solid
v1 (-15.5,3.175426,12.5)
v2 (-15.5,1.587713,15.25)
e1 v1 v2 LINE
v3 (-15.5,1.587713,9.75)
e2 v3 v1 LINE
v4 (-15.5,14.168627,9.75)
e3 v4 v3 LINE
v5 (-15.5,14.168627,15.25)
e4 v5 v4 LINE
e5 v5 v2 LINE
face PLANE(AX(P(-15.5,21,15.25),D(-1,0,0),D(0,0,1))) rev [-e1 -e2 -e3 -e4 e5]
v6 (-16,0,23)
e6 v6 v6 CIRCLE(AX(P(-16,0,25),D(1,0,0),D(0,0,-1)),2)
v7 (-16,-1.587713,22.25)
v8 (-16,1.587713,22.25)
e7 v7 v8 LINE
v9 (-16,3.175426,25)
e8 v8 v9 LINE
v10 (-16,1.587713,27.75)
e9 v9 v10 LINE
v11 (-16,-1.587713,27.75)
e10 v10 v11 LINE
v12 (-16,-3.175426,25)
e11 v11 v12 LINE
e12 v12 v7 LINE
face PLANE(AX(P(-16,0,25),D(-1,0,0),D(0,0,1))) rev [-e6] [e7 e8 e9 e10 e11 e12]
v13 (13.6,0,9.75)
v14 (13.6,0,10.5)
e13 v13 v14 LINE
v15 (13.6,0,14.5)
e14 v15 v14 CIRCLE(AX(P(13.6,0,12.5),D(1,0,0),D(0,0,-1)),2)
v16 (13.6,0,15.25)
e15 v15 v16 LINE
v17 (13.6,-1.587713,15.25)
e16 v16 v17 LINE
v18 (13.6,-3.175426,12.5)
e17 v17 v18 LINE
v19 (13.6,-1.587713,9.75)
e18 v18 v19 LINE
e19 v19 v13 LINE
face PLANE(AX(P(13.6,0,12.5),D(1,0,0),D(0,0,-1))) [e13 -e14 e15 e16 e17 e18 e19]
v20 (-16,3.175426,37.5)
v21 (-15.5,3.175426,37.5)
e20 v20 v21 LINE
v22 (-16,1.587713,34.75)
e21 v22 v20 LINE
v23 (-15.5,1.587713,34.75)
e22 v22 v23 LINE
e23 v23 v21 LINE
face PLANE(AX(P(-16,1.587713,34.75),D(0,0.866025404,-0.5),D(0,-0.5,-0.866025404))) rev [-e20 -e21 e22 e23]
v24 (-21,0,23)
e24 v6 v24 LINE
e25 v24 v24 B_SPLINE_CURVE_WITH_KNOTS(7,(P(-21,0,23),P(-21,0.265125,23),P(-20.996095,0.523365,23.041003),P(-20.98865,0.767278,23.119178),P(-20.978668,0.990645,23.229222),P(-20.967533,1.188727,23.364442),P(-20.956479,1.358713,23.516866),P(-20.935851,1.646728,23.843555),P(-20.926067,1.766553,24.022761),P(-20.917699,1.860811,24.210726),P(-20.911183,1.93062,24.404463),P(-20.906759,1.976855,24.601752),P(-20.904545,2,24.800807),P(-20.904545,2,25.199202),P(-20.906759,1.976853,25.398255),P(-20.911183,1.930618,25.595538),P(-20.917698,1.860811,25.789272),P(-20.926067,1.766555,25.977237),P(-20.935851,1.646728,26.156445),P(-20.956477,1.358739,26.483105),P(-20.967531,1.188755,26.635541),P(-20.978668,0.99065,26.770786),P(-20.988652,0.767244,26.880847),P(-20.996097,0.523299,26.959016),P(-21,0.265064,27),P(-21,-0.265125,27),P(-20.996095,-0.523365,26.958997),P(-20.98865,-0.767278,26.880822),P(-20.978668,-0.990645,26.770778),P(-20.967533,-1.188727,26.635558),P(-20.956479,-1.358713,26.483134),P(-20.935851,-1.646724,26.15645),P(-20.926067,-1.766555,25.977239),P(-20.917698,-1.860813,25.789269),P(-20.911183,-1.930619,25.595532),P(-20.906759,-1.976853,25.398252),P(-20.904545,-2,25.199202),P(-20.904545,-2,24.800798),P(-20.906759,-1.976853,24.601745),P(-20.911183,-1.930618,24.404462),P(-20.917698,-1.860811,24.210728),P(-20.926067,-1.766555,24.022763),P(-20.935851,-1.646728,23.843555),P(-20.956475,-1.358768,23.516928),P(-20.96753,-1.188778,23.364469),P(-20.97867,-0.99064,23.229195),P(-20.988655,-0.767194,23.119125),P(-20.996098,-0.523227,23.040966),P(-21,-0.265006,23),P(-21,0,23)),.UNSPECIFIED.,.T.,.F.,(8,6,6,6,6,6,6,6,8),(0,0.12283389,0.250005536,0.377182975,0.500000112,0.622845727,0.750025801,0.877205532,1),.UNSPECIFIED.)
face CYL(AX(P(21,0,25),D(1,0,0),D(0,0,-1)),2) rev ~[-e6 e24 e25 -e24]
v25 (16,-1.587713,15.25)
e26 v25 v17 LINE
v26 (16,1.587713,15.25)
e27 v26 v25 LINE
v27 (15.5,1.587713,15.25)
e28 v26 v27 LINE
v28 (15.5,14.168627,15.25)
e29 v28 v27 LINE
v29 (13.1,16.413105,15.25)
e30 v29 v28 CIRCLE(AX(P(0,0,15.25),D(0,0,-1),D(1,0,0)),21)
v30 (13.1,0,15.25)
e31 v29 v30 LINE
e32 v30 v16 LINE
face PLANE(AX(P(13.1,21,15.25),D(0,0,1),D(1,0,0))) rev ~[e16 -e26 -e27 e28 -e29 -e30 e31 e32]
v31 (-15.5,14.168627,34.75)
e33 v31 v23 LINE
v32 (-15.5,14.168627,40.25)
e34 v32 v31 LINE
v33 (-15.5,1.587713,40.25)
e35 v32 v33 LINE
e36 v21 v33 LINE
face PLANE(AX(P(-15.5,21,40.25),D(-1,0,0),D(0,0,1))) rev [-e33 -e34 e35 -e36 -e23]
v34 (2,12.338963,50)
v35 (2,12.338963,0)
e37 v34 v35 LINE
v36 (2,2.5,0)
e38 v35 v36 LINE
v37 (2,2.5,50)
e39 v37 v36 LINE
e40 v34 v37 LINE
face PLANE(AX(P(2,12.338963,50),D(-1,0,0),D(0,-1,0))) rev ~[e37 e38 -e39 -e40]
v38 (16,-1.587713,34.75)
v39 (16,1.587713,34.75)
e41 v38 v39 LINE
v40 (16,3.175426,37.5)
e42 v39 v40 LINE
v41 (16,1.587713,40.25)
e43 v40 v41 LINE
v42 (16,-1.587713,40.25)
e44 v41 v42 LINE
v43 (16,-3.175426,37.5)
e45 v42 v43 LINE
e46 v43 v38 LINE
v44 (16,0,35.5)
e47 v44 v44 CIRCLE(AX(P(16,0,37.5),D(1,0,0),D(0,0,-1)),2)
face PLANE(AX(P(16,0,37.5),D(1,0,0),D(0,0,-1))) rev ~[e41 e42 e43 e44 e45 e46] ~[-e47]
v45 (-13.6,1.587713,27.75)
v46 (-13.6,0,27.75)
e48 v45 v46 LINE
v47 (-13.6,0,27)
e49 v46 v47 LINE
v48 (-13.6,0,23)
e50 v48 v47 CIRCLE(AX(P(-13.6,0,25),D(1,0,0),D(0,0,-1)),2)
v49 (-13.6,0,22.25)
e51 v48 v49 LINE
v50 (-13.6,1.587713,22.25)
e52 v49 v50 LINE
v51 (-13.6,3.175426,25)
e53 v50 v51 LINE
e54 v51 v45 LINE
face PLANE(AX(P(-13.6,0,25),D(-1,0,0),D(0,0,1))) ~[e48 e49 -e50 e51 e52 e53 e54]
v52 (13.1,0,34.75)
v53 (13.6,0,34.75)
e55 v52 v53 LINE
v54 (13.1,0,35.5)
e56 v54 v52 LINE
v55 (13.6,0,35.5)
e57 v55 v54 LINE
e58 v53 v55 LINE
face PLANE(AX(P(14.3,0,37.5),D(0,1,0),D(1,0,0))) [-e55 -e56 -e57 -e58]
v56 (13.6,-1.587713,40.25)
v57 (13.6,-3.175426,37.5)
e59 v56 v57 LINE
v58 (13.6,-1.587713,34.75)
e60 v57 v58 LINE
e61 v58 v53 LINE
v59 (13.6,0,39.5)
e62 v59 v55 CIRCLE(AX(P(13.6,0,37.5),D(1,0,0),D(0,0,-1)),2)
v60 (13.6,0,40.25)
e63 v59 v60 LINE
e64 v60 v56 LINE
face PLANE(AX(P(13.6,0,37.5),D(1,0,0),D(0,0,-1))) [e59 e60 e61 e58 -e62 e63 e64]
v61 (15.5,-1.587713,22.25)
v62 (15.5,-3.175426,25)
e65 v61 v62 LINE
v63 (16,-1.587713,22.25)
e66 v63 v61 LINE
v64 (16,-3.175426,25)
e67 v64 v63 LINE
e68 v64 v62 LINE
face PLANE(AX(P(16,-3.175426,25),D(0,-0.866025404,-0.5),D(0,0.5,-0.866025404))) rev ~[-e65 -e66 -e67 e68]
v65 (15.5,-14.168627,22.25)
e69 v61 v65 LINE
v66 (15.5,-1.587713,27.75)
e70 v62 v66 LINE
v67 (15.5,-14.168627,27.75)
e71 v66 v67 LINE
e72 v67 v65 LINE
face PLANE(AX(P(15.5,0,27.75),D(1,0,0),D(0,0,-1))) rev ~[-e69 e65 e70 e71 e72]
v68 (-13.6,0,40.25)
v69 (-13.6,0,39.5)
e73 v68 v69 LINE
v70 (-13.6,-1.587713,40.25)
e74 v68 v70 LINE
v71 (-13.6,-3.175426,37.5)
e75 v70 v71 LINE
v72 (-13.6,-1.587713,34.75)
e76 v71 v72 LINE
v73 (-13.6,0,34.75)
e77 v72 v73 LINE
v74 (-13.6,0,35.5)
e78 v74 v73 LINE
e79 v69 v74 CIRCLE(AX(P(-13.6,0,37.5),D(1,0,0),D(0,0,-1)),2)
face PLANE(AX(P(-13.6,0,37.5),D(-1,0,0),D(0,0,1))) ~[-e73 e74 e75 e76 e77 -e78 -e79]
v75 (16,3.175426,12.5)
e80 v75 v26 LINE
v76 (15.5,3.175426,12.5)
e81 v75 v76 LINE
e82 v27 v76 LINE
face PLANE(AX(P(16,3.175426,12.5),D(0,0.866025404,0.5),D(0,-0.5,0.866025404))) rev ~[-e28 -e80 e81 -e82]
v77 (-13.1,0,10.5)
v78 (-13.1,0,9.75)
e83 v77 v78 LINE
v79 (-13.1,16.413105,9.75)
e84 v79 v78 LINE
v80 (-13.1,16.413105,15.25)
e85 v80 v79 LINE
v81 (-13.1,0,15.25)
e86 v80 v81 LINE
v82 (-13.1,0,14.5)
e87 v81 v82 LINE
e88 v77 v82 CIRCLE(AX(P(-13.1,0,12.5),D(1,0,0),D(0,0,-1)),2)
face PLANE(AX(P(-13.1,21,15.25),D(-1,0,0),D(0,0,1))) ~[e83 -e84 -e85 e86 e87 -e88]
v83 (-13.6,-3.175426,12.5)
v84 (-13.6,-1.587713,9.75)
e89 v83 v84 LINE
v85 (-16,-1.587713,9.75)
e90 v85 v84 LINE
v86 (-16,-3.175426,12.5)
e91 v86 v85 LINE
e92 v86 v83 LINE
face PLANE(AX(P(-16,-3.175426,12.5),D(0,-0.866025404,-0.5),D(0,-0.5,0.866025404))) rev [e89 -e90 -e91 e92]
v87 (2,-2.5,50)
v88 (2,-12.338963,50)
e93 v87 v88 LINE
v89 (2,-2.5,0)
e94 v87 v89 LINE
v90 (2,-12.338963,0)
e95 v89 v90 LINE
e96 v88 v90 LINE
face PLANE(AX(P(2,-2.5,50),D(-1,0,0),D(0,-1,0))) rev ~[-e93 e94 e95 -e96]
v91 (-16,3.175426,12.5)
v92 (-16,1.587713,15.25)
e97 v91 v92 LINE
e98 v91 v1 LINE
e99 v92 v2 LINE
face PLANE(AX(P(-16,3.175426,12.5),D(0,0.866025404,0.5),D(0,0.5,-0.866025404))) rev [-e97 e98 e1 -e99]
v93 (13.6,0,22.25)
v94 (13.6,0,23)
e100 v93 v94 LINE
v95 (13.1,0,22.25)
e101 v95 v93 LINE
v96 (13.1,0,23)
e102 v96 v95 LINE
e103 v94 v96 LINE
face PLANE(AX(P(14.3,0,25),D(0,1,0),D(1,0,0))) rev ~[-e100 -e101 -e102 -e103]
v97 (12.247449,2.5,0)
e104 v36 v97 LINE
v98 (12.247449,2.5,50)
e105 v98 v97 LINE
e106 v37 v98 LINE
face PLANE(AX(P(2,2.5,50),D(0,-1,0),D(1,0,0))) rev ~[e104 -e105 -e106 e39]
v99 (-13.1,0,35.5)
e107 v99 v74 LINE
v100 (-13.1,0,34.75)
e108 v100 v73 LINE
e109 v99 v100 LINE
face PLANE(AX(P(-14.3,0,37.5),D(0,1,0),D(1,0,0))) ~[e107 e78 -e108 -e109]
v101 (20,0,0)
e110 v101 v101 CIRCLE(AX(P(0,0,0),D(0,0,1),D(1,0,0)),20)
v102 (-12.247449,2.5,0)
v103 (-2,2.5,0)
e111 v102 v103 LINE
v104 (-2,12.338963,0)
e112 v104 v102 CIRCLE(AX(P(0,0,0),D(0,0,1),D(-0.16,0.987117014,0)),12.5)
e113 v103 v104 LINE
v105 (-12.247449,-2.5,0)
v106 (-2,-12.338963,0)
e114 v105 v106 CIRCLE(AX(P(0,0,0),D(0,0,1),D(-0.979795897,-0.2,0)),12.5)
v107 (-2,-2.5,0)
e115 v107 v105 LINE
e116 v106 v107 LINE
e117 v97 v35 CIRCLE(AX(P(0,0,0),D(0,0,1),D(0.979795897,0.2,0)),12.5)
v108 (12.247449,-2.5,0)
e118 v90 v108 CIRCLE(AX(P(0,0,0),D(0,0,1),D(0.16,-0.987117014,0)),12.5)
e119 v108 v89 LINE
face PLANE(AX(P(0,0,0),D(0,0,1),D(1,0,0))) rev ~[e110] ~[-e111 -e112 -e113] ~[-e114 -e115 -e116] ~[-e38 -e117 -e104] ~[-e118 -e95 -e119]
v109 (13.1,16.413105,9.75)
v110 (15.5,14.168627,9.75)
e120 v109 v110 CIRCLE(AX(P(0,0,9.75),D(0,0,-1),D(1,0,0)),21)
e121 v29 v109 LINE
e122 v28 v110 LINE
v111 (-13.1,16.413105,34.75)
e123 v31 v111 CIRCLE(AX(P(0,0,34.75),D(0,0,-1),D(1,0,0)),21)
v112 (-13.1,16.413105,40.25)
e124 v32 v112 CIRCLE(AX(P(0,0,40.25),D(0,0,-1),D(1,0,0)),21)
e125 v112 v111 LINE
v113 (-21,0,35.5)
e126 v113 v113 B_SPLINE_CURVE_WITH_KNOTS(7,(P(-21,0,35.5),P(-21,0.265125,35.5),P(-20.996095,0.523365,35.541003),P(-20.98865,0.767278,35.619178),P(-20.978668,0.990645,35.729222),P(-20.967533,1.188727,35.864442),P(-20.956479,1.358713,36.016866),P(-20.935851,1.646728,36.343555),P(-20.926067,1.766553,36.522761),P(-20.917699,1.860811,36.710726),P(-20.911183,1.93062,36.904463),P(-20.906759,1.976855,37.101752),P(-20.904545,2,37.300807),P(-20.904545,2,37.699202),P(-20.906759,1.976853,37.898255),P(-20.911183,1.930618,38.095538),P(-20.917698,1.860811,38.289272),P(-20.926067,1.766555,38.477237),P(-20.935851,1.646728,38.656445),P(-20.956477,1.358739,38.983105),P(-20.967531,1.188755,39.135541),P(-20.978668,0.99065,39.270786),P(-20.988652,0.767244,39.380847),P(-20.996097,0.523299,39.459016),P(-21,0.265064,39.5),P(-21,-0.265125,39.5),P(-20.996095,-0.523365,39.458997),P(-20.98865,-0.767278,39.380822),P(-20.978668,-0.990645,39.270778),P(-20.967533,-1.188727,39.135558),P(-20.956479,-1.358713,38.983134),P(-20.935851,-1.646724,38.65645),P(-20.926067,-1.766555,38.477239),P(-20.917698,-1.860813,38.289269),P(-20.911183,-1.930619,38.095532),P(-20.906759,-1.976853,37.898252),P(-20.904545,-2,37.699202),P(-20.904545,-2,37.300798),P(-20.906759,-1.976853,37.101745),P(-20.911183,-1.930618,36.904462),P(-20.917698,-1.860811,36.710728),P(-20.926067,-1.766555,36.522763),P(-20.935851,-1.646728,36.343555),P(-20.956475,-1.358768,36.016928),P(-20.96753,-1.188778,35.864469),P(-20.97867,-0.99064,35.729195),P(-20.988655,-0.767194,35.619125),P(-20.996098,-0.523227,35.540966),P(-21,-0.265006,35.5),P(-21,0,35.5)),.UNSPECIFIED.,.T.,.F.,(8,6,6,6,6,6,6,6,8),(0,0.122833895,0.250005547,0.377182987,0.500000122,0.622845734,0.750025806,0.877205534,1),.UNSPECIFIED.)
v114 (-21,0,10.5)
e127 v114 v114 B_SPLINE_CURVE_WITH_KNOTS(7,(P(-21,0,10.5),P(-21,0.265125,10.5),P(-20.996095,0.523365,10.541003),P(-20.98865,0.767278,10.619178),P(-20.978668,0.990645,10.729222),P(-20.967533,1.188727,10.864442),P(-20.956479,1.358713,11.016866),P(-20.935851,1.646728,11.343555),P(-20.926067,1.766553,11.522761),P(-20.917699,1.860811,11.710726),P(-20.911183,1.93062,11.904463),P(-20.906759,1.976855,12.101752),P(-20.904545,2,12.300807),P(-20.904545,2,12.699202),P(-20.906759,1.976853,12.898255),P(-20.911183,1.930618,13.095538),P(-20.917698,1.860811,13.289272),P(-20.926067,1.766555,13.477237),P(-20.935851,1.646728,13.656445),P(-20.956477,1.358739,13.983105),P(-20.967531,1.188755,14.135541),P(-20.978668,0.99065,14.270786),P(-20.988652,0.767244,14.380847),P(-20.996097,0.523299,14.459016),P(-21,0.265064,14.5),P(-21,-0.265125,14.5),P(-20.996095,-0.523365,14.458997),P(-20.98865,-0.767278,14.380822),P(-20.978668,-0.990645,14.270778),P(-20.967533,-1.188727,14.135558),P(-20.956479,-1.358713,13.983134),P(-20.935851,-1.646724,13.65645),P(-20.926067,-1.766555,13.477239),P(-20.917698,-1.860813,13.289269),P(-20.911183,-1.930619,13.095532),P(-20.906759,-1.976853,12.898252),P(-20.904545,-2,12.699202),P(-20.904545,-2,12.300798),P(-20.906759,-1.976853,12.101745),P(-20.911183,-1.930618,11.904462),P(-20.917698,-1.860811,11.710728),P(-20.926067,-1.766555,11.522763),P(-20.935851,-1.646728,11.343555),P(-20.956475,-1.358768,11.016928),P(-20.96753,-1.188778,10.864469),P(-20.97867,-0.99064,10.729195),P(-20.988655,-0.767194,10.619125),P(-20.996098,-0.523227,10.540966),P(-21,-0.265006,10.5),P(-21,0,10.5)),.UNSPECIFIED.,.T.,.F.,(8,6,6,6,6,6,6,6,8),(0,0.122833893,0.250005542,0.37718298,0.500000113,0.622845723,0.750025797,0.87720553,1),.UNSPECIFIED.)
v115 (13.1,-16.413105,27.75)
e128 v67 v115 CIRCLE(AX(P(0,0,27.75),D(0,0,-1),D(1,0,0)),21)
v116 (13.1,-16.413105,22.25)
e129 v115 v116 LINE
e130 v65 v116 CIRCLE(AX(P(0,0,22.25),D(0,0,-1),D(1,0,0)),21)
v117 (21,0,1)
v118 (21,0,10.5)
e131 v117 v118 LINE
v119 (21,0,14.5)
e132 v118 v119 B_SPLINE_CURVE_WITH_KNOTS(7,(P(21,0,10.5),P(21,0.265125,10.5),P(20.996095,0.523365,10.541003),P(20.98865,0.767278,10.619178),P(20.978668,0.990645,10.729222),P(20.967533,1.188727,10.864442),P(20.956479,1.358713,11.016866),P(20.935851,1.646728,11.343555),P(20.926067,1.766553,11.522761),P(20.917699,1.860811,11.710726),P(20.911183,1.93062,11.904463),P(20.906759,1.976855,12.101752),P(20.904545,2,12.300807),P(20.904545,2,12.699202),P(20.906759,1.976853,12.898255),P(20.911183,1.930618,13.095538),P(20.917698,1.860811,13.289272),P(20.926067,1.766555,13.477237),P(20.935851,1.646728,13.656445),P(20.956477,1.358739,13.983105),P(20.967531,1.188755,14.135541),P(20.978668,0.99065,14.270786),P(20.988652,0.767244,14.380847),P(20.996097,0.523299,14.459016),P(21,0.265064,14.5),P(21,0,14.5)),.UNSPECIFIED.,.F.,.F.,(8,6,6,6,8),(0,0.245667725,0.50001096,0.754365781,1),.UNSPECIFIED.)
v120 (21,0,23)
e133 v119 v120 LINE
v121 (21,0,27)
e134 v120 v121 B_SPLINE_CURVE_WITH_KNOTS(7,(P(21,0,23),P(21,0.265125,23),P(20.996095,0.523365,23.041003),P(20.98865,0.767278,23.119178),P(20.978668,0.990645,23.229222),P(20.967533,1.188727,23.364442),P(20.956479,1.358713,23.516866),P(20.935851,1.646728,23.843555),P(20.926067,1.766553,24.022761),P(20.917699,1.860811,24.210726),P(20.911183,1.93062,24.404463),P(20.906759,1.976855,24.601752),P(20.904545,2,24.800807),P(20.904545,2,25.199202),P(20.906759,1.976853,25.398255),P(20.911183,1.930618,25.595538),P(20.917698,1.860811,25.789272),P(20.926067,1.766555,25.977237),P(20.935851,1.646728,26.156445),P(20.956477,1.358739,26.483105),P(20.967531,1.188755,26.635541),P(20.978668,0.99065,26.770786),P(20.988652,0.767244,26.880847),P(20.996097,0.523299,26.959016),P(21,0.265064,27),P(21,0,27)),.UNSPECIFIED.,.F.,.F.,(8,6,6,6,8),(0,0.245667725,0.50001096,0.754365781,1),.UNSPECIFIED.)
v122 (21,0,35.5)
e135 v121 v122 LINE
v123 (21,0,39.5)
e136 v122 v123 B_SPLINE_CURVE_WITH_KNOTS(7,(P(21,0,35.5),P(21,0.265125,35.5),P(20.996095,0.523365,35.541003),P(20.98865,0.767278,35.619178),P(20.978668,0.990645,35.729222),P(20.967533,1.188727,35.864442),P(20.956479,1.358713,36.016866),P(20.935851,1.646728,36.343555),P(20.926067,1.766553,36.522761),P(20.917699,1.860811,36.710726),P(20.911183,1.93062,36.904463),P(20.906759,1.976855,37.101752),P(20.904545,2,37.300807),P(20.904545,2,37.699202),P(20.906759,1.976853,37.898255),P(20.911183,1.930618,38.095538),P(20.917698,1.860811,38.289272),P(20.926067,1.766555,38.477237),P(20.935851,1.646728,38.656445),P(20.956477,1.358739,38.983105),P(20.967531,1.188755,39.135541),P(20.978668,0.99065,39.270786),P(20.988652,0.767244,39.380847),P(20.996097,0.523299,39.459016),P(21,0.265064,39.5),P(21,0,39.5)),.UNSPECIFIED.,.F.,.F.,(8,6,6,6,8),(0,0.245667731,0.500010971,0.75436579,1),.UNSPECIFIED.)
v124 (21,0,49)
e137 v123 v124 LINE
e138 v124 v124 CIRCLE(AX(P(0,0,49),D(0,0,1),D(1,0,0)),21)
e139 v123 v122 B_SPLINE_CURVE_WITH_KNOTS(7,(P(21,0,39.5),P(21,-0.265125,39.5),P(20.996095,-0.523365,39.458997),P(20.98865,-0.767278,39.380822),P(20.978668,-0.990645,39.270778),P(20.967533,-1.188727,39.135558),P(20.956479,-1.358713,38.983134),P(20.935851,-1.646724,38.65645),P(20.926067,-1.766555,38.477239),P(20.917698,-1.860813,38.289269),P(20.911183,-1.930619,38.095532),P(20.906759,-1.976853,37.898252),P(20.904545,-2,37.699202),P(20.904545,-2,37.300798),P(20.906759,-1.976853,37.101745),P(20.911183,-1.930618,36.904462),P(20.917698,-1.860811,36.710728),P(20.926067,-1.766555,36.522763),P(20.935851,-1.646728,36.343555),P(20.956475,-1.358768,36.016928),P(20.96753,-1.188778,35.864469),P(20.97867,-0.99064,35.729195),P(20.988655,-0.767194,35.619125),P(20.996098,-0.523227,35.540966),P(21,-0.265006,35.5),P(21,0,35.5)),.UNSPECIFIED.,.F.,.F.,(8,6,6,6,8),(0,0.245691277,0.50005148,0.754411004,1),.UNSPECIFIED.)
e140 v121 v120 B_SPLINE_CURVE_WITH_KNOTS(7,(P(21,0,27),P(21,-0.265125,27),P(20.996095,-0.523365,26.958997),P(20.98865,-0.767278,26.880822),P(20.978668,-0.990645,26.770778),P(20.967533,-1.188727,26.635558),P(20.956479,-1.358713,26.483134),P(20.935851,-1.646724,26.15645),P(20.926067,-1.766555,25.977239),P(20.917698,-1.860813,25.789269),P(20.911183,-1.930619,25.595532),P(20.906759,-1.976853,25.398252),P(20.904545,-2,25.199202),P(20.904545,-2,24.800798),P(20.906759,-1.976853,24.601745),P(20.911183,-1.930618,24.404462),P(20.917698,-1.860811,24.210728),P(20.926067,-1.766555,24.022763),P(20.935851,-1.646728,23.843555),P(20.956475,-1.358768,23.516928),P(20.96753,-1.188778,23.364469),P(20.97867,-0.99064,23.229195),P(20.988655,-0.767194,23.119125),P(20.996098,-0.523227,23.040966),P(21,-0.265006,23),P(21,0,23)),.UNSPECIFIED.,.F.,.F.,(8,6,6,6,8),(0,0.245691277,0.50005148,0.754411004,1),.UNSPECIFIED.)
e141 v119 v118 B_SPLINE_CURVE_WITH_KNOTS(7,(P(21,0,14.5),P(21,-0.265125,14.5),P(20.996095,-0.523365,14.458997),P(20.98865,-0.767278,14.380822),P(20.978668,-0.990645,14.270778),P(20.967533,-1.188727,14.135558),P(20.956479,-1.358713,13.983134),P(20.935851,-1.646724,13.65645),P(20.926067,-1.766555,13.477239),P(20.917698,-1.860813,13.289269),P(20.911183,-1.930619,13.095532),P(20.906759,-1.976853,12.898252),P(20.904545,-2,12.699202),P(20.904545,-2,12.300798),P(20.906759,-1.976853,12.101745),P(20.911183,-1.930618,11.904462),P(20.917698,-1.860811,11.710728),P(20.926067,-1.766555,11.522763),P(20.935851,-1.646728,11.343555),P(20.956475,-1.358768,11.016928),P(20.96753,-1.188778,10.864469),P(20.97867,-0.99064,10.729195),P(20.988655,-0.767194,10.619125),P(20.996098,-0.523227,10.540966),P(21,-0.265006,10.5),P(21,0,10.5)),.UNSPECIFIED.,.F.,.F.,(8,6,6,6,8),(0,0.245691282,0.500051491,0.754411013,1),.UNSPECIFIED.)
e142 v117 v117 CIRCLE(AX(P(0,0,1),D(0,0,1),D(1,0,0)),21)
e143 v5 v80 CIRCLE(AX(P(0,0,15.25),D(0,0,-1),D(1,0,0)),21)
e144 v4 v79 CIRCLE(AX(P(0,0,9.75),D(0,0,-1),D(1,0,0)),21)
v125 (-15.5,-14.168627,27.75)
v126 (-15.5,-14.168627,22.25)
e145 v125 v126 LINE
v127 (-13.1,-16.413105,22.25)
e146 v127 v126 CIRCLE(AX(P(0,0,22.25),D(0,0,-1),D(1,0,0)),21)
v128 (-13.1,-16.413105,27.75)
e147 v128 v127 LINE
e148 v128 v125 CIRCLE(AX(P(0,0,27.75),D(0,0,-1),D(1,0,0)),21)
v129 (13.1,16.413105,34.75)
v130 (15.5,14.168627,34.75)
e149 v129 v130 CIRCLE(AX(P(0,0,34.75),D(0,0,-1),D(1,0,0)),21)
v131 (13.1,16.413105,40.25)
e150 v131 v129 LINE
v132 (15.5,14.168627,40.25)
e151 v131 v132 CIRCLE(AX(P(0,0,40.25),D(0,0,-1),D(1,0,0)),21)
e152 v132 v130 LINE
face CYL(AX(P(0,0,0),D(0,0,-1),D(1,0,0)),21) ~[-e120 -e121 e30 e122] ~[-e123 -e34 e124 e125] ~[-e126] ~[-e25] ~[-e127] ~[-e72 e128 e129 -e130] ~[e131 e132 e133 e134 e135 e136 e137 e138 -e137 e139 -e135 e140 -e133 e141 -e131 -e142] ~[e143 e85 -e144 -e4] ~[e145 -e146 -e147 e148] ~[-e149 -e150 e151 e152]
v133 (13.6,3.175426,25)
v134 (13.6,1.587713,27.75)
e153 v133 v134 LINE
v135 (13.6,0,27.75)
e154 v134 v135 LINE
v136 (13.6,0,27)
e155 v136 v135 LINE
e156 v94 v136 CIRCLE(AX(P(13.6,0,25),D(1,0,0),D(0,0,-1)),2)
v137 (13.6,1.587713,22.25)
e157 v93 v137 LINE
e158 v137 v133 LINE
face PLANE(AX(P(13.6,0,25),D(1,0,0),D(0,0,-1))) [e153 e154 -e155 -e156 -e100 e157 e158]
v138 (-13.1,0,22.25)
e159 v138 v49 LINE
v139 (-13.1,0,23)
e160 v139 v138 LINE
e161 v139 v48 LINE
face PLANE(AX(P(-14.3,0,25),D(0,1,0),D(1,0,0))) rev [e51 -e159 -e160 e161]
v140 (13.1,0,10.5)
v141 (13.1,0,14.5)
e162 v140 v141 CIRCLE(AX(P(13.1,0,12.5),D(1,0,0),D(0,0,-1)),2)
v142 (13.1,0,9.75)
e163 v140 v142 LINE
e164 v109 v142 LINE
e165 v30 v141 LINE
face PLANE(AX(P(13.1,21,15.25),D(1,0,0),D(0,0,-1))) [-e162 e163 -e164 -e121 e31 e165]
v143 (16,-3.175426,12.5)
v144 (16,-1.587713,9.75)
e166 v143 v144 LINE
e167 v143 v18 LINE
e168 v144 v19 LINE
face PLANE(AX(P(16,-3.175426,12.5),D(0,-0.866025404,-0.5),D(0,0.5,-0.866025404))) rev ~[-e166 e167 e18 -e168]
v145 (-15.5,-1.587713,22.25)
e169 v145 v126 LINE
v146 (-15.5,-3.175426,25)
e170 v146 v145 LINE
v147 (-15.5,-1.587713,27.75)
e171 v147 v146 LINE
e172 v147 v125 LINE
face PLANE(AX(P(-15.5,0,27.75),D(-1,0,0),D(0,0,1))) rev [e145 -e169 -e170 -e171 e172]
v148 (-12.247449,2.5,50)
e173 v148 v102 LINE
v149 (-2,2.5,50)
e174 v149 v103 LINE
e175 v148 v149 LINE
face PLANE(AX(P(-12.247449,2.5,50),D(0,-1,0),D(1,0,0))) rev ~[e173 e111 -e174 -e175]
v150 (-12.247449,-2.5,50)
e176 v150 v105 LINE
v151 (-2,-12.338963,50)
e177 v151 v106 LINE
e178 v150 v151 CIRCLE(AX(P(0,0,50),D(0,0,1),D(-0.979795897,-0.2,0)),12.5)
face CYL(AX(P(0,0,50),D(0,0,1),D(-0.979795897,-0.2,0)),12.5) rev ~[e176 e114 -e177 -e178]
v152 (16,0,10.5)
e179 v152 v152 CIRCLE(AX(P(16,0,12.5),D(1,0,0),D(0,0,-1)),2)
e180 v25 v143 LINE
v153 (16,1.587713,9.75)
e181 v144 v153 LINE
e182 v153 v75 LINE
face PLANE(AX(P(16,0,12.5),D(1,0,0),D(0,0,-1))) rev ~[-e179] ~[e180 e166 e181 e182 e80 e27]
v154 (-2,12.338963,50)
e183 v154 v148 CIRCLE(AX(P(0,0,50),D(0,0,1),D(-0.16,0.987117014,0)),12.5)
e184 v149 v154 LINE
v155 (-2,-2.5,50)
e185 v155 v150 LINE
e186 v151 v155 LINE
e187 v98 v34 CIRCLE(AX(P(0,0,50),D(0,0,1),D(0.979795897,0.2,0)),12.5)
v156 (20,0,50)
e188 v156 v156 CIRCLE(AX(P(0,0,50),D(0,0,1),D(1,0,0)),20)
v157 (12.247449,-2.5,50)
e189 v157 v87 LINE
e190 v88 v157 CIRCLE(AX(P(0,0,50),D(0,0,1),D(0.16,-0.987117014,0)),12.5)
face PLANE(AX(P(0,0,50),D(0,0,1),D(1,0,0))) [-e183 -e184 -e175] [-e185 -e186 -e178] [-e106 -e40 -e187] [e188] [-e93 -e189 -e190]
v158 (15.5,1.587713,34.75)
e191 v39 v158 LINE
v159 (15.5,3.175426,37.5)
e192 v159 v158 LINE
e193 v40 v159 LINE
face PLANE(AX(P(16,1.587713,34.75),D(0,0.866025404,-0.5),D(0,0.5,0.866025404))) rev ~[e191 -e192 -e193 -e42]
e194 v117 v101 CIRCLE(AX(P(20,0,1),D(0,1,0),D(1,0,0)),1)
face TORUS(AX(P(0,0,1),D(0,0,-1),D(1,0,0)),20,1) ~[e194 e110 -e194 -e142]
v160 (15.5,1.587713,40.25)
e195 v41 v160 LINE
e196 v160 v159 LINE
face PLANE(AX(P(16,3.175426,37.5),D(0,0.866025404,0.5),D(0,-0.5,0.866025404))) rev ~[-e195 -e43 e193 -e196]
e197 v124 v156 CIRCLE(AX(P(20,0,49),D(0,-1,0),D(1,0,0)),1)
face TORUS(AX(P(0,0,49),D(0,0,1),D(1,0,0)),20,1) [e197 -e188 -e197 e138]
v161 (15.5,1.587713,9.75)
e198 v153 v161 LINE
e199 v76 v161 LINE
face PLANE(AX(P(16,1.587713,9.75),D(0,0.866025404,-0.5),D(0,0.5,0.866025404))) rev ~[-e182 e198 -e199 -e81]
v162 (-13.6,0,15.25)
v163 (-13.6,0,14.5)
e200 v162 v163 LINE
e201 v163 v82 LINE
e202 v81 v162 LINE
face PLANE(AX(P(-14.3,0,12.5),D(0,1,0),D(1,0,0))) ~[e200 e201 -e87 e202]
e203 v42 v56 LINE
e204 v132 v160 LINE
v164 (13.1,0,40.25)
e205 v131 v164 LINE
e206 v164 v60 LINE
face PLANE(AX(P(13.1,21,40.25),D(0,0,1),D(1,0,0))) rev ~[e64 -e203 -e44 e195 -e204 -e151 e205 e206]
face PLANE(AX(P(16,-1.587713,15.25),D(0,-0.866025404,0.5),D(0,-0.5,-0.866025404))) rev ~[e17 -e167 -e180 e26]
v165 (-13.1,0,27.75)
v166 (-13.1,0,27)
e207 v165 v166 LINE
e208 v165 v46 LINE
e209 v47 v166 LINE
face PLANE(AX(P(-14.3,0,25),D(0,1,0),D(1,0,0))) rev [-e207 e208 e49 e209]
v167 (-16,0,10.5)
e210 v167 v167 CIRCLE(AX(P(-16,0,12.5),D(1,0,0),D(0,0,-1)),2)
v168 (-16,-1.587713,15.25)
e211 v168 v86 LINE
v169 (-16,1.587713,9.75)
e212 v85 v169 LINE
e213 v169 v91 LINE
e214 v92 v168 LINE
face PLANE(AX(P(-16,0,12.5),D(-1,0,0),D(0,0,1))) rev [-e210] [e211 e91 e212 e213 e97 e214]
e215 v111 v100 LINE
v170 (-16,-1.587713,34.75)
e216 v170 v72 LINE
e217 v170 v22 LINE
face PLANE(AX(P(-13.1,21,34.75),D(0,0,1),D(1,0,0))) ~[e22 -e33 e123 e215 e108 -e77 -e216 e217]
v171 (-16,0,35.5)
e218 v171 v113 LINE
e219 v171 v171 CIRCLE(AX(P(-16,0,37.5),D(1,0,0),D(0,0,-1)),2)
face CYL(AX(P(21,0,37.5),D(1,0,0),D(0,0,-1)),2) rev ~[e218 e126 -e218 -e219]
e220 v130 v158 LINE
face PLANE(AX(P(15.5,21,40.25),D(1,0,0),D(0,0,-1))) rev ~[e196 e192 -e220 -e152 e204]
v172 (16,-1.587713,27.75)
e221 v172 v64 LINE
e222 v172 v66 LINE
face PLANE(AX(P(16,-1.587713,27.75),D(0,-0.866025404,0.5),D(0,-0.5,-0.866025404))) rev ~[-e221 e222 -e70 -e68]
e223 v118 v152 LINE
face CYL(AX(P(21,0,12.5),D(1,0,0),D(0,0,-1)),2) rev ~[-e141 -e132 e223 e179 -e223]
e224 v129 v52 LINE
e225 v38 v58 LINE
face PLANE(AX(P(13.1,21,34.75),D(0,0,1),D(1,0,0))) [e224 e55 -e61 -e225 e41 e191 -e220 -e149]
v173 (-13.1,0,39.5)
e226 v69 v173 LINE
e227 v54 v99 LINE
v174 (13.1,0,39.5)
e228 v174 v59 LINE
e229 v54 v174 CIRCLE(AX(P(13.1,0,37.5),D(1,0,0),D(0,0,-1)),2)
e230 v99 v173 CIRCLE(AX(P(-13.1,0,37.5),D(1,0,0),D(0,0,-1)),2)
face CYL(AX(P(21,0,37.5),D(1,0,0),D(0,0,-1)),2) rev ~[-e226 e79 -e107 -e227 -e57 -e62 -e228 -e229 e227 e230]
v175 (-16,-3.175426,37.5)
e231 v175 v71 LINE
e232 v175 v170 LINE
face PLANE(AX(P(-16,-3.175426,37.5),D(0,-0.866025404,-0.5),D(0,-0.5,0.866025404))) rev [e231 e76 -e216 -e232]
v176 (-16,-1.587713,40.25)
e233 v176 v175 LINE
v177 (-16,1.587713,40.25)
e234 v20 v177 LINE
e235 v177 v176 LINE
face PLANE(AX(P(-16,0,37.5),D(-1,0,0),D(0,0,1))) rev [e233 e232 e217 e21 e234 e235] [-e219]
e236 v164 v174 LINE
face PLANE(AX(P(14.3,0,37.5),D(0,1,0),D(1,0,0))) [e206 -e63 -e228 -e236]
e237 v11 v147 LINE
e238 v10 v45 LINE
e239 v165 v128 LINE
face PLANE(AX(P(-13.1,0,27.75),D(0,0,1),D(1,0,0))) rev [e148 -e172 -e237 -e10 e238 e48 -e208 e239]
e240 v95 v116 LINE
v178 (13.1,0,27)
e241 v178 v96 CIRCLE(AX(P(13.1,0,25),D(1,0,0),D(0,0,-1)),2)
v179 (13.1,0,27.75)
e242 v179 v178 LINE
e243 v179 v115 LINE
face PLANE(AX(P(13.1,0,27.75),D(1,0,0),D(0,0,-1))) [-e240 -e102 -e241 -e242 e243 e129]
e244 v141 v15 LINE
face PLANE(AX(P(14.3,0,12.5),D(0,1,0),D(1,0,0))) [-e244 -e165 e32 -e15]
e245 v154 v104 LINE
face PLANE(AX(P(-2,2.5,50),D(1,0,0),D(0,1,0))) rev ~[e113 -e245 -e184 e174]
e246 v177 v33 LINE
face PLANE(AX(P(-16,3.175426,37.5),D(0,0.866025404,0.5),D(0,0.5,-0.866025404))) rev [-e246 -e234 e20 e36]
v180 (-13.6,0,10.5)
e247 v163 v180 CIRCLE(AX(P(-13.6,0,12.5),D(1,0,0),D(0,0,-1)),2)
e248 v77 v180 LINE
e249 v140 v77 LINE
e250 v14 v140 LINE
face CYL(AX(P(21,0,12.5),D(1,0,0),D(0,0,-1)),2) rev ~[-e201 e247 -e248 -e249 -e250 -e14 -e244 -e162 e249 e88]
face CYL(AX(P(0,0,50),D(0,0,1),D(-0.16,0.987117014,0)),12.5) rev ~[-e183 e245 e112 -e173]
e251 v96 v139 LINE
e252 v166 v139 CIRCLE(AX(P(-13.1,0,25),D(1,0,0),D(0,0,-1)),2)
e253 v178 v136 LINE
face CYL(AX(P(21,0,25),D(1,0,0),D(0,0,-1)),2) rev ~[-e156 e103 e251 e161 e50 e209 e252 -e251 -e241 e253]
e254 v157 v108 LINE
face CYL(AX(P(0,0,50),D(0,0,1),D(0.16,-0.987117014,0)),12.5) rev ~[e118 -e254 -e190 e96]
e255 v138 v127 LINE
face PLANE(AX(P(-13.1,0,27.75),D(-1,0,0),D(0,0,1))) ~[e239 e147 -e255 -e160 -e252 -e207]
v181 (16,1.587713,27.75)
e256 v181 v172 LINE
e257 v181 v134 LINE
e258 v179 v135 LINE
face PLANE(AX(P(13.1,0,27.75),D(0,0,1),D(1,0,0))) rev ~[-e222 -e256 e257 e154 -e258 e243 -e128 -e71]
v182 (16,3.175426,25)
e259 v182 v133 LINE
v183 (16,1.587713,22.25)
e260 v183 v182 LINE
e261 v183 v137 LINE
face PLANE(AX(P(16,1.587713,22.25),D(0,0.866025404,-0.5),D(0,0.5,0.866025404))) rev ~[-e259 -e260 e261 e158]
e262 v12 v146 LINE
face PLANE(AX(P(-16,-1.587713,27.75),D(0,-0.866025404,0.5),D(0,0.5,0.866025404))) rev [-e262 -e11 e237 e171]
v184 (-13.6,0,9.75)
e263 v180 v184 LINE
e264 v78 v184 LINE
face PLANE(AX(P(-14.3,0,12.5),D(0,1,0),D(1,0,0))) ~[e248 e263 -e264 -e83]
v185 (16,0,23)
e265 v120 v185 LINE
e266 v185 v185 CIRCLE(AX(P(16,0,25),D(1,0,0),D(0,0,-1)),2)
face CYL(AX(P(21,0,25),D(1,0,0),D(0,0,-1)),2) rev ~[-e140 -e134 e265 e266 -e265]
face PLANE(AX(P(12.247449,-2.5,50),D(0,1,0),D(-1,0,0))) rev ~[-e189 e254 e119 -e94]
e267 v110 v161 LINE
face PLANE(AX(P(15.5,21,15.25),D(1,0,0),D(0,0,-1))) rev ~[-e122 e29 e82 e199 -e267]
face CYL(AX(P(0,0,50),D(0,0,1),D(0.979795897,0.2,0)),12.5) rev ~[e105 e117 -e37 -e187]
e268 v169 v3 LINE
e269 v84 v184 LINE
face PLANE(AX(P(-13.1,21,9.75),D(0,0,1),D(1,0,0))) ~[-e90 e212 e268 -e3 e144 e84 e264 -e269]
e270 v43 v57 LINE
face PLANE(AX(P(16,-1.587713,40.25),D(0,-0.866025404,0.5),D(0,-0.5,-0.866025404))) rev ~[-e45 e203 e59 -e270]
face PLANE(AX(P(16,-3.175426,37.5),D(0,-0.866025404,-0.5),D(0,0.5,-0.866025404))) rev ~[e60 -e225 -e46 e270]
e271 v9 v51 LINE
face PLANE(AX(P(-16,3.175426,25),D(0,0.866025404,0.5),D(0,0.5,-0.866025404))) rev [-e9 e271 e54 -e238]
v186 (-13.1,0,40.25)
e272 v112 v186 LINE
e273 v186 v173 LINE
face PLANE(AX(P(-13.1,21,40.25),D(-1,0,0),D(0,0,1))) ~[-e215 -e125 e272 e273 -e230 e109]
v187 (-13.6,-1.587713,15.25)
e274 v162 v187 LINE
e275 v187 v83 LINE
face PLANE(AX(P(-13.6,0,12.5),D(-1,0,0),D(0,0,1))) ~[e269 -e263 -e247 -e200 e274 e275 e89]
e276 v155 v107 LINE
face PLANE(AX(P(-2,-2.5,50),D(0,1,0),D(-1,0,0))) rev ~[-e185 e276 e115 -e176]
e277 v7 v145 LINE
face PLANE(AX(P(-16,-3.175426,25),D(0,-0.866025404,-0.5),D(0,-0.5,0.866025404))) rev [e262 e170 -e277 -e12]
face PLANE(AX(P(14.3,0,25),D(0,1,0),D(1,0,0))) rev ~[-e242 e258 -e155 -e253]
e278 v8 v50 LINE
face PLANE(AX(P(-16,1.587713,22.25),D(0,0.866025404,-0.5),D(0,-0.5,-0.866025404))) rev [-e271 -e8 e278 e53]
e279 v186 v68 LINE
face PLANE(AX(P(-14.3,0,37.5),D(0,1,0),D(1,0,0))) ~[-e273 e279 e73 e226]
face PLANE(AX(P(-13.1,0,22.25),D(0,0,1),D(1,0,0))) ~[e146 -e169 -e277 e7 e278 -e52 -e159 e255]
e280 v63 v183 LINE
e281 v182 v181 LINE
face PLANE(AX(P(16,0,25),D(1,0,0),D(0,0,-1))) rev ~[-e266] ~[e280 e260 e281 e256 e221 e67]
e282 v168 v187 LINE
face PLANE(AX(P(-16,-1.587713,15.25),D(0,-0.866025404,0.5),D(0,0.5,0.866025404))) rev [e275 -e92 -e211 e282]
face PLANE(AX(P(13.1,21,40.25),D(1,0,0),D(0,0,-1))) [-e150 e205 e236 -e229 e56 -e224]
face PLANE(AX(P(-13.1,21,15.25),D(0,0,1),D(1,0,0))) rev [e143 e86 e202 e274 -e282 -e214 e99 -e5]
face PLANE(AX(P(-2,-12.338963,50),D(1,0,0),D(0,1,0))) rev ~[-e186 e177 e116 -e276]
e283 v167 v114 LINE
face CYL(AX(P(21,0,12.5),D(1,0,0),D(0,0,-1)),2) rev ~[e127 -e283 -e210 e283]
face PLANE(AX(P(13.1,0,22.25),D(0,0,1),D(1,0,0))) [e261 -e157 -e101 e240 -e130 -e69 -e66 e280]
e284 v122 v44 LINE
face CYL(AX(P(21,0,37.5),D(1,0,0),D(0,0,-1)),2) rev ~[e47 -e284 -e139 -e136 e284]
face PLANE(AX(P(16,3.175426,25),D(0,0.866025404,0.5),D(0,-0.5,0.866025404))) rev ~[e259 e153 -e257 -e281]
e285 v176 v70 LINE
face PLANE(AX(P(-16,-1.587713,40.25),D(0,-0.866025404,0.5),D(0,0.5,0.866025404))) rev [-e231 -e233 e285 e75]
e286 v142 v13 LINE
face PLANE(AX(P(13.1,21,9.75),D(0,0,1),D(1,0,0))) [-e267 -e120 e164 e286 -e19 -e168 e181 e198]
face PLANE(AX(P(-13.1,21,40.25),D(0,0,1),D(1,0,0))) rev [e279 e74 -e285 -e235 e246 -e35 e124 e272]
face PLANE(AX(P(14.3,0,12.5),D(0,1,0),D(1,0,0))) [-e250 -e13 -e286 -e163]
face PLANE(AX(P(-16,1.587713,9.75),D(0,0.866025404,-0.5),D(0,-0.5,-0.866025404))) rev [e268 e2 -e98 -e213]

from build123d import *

# Parameters (mm, degrees)
SKETCH_1_R           = 21
EXTRUDE_1_DEPTH      = 50
FILLET_1_R           = 1
FILLET_2_R           = 1
SKETCH_2_R           = 2
CUT_EXTRUDE_1_DEPTH  = 43
CUT_EXTRUDE_START    = -5
CUT_EXTRUDE_2_DEPTH  = 2.4
CUT_EXTRUDE_9_DEPTH  = 51
SKETCH_6_W           = 2.4
SKETCH_6_H           = 5.5
CUT_EXTRUDE_10_DEPTH = 21
CUT_EXTRUDE_START_2  = -21
SKETCH_6_5_W         = 2.4
SKETCH_6_5_H         = 5.5
CUT_EXTRUDE_11_DEPTH = 21


with BuildPart() as part:
    # Эскиз1 → Бобышка-Вытянуть1 (new body)
    with BuildSketch(Plane.XY):
        Circle(SKETCH_1_R)
    extrude(amount=EXTRUDE_1_DEPTH)

    # Скругление1
    fillet_1_edges = [part.edges().sort_by_distance(p)[0] for p in [
        (-21, 0, 50),
    ]]
    fillet(fillet_1_edges, radius=FILLET_1_R)

    # Скругление2
    fillet_2_edges = [part.edges().sort_by_distance(p)[0] for p in [
        (-21, 0, 0),
    ]]
    fillet(fillet_2_edges, radius=FILLET_2_R)

    # Эскиз2 → Вырез-Вытянуть1 (cut, through all)
    with BuildSketch(Plane(origin=(21, 0, 0), x_dir=(0, 0, -1), z_dir=(1, 0, 0))):
        with Locations((-37.5, 0)):
            Circle(SKETCH_2_R)
        with Locations((-25, 0)):
            Circle(SKETCH_2_R)
        with Locations((-12.5, 0)):
            Circle(SKETCH_2_R)
    extrude(amount=-CUT_EXTRUDE_1_DEPTH, mode=Mode.SUBTRACT)

    # Эскиз3 → Вырез-Вытянуть2 (cut)
    with BuildSketch(Plane(origin=(21, 0, 0), x_dir=(0, 0, -1), z_dir=(1, 0, 0)).offset(CUT_EXTRUDE_START)):
        Polygon((-25, 3.175426481), (-27.75, 1.58771324), (-27.75, -1.58771324), (-25, -3.175426481), (-22.25, -1.58771324), (-22.25, 1.58771324), align=None)
        Polygon((-37.5, 3.175426481), (-40.25, 1.58771324), (-40.25, -1.58771324), (-37.5, -3.175426481), (-34.75, -1.58771324), (-34.75, 1.58771324), align=None)
        Polygon((-12.5, 3.175426481), (-15.25, 1.58771324), (-15.25, -1.58771324), (-12.5, -3.175426481), (-9.75, -1.58771324), (-9.75, 1.58771324), align=None)
    cut_extrude_2 = extrude(amount=-CUT_EXTRUDE_2_DEPTH, mode=Mode.SUBTRACT)

    # Зеркальное отражение1: Вырез-Вытянуть2 across plane
    add(cut_extrude_2.mirror(Plane(origin=(0, 0, 0), x_dir=(0, 0, 1), z_dir=(1, 0, 0))), mode=Mode.SUBTRACT)

    # Эскиз4 → Вырез-Вытянуть9 (cut, through all)
    with BuildSketch(Plane.XY.offset(50)):
        with BuildLine():
            Line((-2, 2.5), (-2, 12.338962679))
            ThreePointArc((-2, 12.338962679), (-8.657294344, 9.016720836), (-12.247448714, 2.5))
            Line((-12.247448714, 2.5), (-2, 2.5))
        make_face()
        with BuildLine():
            Line((2, 12.338962679), (2, 2.5))
            Line((2, 2.5), (12.247448714, 2.5))
            ThreePointArc((12.247448714, 2.5), (8.657294344, 9.016720836), (2, 12.338962679))
        make_face()
        with BuildLine():
            ThreePointArc((2, -12.338962679), (8.657294344, -9.016720836), (12.247448714, -2.5))
            Line((12.247448714, -2.5), (2, -2.5))
            Line((2, -2.5), (2, -12.338962679))
        make_face()
        with BuildLine():
            Line((-2, -2.5), (-12.247448714, -2.5))
            ThreePointArc((-12.247448714, -2.5), (-8.657294344, -9.016720836), (-2, -12.338962679))
            Line((-2, -12.338962679), (-2, -2.5))
        make_face()
    extrude(amount=-CUT_EXTRUDE_9_DEPTH, mode=Mode.SUBTRACT)

    # Эскиз6 → Вырез-Вытянуть10 (cut)
    with BuildSketch(Plane(origin=(0, 21, 0), x_dir=(1, 0, 0), z_dir=(0, 1, 0))):
        with Locations((14.3, -37.5)):
            Rectangle(SKETCH_6_W, SKETCH_6_H)
        with Locations((14.3, -12.5)):
            Rectangle(SKETCH_6_W, SKETCH_6_H)
    cut_extrude_10 = extrude(amount=-CUT_EXTRUDE_10_DEPTH, mode=Mode.SUBTRACT)

    # Эскиз6<5> → Вырез-Вытянуть11 (cut)
    with BuildSketch(Plane(origin=(0, 21, 0), x_dir=(1, 0, 0), z_dir=(0, 1, 0)).offset(CUT_EXTRUDE_START_2)):
        with Locations((14.3, -25)):
            Rectangle(SKETCH_6_5_W, SKETCH_6_5_H)
    cut_extrude_11 = extrude(amount=-CUT_EXTRUDE_11_DEPTH, mode=Mode.SUBTRACT)

    # Зеркальное отражение2: Вырез-Вытянуть10, Вырез-Вытянуть11 across plane
    add(cut_extrude_10.mirror(Plane(origin=(0, 0, 0), x_dir=(0, 0, 1), z_dir=(1, 0, 0))), mode=Mode.SUBTRACT)
    add(cut_extrude_11.mirror(Plane(origin=(0, 0, 0), x_dir=(0, 0, 1), z_dir=(1, 0, 0))), mode=Mode.SUBTRACT)


solid = part.part
